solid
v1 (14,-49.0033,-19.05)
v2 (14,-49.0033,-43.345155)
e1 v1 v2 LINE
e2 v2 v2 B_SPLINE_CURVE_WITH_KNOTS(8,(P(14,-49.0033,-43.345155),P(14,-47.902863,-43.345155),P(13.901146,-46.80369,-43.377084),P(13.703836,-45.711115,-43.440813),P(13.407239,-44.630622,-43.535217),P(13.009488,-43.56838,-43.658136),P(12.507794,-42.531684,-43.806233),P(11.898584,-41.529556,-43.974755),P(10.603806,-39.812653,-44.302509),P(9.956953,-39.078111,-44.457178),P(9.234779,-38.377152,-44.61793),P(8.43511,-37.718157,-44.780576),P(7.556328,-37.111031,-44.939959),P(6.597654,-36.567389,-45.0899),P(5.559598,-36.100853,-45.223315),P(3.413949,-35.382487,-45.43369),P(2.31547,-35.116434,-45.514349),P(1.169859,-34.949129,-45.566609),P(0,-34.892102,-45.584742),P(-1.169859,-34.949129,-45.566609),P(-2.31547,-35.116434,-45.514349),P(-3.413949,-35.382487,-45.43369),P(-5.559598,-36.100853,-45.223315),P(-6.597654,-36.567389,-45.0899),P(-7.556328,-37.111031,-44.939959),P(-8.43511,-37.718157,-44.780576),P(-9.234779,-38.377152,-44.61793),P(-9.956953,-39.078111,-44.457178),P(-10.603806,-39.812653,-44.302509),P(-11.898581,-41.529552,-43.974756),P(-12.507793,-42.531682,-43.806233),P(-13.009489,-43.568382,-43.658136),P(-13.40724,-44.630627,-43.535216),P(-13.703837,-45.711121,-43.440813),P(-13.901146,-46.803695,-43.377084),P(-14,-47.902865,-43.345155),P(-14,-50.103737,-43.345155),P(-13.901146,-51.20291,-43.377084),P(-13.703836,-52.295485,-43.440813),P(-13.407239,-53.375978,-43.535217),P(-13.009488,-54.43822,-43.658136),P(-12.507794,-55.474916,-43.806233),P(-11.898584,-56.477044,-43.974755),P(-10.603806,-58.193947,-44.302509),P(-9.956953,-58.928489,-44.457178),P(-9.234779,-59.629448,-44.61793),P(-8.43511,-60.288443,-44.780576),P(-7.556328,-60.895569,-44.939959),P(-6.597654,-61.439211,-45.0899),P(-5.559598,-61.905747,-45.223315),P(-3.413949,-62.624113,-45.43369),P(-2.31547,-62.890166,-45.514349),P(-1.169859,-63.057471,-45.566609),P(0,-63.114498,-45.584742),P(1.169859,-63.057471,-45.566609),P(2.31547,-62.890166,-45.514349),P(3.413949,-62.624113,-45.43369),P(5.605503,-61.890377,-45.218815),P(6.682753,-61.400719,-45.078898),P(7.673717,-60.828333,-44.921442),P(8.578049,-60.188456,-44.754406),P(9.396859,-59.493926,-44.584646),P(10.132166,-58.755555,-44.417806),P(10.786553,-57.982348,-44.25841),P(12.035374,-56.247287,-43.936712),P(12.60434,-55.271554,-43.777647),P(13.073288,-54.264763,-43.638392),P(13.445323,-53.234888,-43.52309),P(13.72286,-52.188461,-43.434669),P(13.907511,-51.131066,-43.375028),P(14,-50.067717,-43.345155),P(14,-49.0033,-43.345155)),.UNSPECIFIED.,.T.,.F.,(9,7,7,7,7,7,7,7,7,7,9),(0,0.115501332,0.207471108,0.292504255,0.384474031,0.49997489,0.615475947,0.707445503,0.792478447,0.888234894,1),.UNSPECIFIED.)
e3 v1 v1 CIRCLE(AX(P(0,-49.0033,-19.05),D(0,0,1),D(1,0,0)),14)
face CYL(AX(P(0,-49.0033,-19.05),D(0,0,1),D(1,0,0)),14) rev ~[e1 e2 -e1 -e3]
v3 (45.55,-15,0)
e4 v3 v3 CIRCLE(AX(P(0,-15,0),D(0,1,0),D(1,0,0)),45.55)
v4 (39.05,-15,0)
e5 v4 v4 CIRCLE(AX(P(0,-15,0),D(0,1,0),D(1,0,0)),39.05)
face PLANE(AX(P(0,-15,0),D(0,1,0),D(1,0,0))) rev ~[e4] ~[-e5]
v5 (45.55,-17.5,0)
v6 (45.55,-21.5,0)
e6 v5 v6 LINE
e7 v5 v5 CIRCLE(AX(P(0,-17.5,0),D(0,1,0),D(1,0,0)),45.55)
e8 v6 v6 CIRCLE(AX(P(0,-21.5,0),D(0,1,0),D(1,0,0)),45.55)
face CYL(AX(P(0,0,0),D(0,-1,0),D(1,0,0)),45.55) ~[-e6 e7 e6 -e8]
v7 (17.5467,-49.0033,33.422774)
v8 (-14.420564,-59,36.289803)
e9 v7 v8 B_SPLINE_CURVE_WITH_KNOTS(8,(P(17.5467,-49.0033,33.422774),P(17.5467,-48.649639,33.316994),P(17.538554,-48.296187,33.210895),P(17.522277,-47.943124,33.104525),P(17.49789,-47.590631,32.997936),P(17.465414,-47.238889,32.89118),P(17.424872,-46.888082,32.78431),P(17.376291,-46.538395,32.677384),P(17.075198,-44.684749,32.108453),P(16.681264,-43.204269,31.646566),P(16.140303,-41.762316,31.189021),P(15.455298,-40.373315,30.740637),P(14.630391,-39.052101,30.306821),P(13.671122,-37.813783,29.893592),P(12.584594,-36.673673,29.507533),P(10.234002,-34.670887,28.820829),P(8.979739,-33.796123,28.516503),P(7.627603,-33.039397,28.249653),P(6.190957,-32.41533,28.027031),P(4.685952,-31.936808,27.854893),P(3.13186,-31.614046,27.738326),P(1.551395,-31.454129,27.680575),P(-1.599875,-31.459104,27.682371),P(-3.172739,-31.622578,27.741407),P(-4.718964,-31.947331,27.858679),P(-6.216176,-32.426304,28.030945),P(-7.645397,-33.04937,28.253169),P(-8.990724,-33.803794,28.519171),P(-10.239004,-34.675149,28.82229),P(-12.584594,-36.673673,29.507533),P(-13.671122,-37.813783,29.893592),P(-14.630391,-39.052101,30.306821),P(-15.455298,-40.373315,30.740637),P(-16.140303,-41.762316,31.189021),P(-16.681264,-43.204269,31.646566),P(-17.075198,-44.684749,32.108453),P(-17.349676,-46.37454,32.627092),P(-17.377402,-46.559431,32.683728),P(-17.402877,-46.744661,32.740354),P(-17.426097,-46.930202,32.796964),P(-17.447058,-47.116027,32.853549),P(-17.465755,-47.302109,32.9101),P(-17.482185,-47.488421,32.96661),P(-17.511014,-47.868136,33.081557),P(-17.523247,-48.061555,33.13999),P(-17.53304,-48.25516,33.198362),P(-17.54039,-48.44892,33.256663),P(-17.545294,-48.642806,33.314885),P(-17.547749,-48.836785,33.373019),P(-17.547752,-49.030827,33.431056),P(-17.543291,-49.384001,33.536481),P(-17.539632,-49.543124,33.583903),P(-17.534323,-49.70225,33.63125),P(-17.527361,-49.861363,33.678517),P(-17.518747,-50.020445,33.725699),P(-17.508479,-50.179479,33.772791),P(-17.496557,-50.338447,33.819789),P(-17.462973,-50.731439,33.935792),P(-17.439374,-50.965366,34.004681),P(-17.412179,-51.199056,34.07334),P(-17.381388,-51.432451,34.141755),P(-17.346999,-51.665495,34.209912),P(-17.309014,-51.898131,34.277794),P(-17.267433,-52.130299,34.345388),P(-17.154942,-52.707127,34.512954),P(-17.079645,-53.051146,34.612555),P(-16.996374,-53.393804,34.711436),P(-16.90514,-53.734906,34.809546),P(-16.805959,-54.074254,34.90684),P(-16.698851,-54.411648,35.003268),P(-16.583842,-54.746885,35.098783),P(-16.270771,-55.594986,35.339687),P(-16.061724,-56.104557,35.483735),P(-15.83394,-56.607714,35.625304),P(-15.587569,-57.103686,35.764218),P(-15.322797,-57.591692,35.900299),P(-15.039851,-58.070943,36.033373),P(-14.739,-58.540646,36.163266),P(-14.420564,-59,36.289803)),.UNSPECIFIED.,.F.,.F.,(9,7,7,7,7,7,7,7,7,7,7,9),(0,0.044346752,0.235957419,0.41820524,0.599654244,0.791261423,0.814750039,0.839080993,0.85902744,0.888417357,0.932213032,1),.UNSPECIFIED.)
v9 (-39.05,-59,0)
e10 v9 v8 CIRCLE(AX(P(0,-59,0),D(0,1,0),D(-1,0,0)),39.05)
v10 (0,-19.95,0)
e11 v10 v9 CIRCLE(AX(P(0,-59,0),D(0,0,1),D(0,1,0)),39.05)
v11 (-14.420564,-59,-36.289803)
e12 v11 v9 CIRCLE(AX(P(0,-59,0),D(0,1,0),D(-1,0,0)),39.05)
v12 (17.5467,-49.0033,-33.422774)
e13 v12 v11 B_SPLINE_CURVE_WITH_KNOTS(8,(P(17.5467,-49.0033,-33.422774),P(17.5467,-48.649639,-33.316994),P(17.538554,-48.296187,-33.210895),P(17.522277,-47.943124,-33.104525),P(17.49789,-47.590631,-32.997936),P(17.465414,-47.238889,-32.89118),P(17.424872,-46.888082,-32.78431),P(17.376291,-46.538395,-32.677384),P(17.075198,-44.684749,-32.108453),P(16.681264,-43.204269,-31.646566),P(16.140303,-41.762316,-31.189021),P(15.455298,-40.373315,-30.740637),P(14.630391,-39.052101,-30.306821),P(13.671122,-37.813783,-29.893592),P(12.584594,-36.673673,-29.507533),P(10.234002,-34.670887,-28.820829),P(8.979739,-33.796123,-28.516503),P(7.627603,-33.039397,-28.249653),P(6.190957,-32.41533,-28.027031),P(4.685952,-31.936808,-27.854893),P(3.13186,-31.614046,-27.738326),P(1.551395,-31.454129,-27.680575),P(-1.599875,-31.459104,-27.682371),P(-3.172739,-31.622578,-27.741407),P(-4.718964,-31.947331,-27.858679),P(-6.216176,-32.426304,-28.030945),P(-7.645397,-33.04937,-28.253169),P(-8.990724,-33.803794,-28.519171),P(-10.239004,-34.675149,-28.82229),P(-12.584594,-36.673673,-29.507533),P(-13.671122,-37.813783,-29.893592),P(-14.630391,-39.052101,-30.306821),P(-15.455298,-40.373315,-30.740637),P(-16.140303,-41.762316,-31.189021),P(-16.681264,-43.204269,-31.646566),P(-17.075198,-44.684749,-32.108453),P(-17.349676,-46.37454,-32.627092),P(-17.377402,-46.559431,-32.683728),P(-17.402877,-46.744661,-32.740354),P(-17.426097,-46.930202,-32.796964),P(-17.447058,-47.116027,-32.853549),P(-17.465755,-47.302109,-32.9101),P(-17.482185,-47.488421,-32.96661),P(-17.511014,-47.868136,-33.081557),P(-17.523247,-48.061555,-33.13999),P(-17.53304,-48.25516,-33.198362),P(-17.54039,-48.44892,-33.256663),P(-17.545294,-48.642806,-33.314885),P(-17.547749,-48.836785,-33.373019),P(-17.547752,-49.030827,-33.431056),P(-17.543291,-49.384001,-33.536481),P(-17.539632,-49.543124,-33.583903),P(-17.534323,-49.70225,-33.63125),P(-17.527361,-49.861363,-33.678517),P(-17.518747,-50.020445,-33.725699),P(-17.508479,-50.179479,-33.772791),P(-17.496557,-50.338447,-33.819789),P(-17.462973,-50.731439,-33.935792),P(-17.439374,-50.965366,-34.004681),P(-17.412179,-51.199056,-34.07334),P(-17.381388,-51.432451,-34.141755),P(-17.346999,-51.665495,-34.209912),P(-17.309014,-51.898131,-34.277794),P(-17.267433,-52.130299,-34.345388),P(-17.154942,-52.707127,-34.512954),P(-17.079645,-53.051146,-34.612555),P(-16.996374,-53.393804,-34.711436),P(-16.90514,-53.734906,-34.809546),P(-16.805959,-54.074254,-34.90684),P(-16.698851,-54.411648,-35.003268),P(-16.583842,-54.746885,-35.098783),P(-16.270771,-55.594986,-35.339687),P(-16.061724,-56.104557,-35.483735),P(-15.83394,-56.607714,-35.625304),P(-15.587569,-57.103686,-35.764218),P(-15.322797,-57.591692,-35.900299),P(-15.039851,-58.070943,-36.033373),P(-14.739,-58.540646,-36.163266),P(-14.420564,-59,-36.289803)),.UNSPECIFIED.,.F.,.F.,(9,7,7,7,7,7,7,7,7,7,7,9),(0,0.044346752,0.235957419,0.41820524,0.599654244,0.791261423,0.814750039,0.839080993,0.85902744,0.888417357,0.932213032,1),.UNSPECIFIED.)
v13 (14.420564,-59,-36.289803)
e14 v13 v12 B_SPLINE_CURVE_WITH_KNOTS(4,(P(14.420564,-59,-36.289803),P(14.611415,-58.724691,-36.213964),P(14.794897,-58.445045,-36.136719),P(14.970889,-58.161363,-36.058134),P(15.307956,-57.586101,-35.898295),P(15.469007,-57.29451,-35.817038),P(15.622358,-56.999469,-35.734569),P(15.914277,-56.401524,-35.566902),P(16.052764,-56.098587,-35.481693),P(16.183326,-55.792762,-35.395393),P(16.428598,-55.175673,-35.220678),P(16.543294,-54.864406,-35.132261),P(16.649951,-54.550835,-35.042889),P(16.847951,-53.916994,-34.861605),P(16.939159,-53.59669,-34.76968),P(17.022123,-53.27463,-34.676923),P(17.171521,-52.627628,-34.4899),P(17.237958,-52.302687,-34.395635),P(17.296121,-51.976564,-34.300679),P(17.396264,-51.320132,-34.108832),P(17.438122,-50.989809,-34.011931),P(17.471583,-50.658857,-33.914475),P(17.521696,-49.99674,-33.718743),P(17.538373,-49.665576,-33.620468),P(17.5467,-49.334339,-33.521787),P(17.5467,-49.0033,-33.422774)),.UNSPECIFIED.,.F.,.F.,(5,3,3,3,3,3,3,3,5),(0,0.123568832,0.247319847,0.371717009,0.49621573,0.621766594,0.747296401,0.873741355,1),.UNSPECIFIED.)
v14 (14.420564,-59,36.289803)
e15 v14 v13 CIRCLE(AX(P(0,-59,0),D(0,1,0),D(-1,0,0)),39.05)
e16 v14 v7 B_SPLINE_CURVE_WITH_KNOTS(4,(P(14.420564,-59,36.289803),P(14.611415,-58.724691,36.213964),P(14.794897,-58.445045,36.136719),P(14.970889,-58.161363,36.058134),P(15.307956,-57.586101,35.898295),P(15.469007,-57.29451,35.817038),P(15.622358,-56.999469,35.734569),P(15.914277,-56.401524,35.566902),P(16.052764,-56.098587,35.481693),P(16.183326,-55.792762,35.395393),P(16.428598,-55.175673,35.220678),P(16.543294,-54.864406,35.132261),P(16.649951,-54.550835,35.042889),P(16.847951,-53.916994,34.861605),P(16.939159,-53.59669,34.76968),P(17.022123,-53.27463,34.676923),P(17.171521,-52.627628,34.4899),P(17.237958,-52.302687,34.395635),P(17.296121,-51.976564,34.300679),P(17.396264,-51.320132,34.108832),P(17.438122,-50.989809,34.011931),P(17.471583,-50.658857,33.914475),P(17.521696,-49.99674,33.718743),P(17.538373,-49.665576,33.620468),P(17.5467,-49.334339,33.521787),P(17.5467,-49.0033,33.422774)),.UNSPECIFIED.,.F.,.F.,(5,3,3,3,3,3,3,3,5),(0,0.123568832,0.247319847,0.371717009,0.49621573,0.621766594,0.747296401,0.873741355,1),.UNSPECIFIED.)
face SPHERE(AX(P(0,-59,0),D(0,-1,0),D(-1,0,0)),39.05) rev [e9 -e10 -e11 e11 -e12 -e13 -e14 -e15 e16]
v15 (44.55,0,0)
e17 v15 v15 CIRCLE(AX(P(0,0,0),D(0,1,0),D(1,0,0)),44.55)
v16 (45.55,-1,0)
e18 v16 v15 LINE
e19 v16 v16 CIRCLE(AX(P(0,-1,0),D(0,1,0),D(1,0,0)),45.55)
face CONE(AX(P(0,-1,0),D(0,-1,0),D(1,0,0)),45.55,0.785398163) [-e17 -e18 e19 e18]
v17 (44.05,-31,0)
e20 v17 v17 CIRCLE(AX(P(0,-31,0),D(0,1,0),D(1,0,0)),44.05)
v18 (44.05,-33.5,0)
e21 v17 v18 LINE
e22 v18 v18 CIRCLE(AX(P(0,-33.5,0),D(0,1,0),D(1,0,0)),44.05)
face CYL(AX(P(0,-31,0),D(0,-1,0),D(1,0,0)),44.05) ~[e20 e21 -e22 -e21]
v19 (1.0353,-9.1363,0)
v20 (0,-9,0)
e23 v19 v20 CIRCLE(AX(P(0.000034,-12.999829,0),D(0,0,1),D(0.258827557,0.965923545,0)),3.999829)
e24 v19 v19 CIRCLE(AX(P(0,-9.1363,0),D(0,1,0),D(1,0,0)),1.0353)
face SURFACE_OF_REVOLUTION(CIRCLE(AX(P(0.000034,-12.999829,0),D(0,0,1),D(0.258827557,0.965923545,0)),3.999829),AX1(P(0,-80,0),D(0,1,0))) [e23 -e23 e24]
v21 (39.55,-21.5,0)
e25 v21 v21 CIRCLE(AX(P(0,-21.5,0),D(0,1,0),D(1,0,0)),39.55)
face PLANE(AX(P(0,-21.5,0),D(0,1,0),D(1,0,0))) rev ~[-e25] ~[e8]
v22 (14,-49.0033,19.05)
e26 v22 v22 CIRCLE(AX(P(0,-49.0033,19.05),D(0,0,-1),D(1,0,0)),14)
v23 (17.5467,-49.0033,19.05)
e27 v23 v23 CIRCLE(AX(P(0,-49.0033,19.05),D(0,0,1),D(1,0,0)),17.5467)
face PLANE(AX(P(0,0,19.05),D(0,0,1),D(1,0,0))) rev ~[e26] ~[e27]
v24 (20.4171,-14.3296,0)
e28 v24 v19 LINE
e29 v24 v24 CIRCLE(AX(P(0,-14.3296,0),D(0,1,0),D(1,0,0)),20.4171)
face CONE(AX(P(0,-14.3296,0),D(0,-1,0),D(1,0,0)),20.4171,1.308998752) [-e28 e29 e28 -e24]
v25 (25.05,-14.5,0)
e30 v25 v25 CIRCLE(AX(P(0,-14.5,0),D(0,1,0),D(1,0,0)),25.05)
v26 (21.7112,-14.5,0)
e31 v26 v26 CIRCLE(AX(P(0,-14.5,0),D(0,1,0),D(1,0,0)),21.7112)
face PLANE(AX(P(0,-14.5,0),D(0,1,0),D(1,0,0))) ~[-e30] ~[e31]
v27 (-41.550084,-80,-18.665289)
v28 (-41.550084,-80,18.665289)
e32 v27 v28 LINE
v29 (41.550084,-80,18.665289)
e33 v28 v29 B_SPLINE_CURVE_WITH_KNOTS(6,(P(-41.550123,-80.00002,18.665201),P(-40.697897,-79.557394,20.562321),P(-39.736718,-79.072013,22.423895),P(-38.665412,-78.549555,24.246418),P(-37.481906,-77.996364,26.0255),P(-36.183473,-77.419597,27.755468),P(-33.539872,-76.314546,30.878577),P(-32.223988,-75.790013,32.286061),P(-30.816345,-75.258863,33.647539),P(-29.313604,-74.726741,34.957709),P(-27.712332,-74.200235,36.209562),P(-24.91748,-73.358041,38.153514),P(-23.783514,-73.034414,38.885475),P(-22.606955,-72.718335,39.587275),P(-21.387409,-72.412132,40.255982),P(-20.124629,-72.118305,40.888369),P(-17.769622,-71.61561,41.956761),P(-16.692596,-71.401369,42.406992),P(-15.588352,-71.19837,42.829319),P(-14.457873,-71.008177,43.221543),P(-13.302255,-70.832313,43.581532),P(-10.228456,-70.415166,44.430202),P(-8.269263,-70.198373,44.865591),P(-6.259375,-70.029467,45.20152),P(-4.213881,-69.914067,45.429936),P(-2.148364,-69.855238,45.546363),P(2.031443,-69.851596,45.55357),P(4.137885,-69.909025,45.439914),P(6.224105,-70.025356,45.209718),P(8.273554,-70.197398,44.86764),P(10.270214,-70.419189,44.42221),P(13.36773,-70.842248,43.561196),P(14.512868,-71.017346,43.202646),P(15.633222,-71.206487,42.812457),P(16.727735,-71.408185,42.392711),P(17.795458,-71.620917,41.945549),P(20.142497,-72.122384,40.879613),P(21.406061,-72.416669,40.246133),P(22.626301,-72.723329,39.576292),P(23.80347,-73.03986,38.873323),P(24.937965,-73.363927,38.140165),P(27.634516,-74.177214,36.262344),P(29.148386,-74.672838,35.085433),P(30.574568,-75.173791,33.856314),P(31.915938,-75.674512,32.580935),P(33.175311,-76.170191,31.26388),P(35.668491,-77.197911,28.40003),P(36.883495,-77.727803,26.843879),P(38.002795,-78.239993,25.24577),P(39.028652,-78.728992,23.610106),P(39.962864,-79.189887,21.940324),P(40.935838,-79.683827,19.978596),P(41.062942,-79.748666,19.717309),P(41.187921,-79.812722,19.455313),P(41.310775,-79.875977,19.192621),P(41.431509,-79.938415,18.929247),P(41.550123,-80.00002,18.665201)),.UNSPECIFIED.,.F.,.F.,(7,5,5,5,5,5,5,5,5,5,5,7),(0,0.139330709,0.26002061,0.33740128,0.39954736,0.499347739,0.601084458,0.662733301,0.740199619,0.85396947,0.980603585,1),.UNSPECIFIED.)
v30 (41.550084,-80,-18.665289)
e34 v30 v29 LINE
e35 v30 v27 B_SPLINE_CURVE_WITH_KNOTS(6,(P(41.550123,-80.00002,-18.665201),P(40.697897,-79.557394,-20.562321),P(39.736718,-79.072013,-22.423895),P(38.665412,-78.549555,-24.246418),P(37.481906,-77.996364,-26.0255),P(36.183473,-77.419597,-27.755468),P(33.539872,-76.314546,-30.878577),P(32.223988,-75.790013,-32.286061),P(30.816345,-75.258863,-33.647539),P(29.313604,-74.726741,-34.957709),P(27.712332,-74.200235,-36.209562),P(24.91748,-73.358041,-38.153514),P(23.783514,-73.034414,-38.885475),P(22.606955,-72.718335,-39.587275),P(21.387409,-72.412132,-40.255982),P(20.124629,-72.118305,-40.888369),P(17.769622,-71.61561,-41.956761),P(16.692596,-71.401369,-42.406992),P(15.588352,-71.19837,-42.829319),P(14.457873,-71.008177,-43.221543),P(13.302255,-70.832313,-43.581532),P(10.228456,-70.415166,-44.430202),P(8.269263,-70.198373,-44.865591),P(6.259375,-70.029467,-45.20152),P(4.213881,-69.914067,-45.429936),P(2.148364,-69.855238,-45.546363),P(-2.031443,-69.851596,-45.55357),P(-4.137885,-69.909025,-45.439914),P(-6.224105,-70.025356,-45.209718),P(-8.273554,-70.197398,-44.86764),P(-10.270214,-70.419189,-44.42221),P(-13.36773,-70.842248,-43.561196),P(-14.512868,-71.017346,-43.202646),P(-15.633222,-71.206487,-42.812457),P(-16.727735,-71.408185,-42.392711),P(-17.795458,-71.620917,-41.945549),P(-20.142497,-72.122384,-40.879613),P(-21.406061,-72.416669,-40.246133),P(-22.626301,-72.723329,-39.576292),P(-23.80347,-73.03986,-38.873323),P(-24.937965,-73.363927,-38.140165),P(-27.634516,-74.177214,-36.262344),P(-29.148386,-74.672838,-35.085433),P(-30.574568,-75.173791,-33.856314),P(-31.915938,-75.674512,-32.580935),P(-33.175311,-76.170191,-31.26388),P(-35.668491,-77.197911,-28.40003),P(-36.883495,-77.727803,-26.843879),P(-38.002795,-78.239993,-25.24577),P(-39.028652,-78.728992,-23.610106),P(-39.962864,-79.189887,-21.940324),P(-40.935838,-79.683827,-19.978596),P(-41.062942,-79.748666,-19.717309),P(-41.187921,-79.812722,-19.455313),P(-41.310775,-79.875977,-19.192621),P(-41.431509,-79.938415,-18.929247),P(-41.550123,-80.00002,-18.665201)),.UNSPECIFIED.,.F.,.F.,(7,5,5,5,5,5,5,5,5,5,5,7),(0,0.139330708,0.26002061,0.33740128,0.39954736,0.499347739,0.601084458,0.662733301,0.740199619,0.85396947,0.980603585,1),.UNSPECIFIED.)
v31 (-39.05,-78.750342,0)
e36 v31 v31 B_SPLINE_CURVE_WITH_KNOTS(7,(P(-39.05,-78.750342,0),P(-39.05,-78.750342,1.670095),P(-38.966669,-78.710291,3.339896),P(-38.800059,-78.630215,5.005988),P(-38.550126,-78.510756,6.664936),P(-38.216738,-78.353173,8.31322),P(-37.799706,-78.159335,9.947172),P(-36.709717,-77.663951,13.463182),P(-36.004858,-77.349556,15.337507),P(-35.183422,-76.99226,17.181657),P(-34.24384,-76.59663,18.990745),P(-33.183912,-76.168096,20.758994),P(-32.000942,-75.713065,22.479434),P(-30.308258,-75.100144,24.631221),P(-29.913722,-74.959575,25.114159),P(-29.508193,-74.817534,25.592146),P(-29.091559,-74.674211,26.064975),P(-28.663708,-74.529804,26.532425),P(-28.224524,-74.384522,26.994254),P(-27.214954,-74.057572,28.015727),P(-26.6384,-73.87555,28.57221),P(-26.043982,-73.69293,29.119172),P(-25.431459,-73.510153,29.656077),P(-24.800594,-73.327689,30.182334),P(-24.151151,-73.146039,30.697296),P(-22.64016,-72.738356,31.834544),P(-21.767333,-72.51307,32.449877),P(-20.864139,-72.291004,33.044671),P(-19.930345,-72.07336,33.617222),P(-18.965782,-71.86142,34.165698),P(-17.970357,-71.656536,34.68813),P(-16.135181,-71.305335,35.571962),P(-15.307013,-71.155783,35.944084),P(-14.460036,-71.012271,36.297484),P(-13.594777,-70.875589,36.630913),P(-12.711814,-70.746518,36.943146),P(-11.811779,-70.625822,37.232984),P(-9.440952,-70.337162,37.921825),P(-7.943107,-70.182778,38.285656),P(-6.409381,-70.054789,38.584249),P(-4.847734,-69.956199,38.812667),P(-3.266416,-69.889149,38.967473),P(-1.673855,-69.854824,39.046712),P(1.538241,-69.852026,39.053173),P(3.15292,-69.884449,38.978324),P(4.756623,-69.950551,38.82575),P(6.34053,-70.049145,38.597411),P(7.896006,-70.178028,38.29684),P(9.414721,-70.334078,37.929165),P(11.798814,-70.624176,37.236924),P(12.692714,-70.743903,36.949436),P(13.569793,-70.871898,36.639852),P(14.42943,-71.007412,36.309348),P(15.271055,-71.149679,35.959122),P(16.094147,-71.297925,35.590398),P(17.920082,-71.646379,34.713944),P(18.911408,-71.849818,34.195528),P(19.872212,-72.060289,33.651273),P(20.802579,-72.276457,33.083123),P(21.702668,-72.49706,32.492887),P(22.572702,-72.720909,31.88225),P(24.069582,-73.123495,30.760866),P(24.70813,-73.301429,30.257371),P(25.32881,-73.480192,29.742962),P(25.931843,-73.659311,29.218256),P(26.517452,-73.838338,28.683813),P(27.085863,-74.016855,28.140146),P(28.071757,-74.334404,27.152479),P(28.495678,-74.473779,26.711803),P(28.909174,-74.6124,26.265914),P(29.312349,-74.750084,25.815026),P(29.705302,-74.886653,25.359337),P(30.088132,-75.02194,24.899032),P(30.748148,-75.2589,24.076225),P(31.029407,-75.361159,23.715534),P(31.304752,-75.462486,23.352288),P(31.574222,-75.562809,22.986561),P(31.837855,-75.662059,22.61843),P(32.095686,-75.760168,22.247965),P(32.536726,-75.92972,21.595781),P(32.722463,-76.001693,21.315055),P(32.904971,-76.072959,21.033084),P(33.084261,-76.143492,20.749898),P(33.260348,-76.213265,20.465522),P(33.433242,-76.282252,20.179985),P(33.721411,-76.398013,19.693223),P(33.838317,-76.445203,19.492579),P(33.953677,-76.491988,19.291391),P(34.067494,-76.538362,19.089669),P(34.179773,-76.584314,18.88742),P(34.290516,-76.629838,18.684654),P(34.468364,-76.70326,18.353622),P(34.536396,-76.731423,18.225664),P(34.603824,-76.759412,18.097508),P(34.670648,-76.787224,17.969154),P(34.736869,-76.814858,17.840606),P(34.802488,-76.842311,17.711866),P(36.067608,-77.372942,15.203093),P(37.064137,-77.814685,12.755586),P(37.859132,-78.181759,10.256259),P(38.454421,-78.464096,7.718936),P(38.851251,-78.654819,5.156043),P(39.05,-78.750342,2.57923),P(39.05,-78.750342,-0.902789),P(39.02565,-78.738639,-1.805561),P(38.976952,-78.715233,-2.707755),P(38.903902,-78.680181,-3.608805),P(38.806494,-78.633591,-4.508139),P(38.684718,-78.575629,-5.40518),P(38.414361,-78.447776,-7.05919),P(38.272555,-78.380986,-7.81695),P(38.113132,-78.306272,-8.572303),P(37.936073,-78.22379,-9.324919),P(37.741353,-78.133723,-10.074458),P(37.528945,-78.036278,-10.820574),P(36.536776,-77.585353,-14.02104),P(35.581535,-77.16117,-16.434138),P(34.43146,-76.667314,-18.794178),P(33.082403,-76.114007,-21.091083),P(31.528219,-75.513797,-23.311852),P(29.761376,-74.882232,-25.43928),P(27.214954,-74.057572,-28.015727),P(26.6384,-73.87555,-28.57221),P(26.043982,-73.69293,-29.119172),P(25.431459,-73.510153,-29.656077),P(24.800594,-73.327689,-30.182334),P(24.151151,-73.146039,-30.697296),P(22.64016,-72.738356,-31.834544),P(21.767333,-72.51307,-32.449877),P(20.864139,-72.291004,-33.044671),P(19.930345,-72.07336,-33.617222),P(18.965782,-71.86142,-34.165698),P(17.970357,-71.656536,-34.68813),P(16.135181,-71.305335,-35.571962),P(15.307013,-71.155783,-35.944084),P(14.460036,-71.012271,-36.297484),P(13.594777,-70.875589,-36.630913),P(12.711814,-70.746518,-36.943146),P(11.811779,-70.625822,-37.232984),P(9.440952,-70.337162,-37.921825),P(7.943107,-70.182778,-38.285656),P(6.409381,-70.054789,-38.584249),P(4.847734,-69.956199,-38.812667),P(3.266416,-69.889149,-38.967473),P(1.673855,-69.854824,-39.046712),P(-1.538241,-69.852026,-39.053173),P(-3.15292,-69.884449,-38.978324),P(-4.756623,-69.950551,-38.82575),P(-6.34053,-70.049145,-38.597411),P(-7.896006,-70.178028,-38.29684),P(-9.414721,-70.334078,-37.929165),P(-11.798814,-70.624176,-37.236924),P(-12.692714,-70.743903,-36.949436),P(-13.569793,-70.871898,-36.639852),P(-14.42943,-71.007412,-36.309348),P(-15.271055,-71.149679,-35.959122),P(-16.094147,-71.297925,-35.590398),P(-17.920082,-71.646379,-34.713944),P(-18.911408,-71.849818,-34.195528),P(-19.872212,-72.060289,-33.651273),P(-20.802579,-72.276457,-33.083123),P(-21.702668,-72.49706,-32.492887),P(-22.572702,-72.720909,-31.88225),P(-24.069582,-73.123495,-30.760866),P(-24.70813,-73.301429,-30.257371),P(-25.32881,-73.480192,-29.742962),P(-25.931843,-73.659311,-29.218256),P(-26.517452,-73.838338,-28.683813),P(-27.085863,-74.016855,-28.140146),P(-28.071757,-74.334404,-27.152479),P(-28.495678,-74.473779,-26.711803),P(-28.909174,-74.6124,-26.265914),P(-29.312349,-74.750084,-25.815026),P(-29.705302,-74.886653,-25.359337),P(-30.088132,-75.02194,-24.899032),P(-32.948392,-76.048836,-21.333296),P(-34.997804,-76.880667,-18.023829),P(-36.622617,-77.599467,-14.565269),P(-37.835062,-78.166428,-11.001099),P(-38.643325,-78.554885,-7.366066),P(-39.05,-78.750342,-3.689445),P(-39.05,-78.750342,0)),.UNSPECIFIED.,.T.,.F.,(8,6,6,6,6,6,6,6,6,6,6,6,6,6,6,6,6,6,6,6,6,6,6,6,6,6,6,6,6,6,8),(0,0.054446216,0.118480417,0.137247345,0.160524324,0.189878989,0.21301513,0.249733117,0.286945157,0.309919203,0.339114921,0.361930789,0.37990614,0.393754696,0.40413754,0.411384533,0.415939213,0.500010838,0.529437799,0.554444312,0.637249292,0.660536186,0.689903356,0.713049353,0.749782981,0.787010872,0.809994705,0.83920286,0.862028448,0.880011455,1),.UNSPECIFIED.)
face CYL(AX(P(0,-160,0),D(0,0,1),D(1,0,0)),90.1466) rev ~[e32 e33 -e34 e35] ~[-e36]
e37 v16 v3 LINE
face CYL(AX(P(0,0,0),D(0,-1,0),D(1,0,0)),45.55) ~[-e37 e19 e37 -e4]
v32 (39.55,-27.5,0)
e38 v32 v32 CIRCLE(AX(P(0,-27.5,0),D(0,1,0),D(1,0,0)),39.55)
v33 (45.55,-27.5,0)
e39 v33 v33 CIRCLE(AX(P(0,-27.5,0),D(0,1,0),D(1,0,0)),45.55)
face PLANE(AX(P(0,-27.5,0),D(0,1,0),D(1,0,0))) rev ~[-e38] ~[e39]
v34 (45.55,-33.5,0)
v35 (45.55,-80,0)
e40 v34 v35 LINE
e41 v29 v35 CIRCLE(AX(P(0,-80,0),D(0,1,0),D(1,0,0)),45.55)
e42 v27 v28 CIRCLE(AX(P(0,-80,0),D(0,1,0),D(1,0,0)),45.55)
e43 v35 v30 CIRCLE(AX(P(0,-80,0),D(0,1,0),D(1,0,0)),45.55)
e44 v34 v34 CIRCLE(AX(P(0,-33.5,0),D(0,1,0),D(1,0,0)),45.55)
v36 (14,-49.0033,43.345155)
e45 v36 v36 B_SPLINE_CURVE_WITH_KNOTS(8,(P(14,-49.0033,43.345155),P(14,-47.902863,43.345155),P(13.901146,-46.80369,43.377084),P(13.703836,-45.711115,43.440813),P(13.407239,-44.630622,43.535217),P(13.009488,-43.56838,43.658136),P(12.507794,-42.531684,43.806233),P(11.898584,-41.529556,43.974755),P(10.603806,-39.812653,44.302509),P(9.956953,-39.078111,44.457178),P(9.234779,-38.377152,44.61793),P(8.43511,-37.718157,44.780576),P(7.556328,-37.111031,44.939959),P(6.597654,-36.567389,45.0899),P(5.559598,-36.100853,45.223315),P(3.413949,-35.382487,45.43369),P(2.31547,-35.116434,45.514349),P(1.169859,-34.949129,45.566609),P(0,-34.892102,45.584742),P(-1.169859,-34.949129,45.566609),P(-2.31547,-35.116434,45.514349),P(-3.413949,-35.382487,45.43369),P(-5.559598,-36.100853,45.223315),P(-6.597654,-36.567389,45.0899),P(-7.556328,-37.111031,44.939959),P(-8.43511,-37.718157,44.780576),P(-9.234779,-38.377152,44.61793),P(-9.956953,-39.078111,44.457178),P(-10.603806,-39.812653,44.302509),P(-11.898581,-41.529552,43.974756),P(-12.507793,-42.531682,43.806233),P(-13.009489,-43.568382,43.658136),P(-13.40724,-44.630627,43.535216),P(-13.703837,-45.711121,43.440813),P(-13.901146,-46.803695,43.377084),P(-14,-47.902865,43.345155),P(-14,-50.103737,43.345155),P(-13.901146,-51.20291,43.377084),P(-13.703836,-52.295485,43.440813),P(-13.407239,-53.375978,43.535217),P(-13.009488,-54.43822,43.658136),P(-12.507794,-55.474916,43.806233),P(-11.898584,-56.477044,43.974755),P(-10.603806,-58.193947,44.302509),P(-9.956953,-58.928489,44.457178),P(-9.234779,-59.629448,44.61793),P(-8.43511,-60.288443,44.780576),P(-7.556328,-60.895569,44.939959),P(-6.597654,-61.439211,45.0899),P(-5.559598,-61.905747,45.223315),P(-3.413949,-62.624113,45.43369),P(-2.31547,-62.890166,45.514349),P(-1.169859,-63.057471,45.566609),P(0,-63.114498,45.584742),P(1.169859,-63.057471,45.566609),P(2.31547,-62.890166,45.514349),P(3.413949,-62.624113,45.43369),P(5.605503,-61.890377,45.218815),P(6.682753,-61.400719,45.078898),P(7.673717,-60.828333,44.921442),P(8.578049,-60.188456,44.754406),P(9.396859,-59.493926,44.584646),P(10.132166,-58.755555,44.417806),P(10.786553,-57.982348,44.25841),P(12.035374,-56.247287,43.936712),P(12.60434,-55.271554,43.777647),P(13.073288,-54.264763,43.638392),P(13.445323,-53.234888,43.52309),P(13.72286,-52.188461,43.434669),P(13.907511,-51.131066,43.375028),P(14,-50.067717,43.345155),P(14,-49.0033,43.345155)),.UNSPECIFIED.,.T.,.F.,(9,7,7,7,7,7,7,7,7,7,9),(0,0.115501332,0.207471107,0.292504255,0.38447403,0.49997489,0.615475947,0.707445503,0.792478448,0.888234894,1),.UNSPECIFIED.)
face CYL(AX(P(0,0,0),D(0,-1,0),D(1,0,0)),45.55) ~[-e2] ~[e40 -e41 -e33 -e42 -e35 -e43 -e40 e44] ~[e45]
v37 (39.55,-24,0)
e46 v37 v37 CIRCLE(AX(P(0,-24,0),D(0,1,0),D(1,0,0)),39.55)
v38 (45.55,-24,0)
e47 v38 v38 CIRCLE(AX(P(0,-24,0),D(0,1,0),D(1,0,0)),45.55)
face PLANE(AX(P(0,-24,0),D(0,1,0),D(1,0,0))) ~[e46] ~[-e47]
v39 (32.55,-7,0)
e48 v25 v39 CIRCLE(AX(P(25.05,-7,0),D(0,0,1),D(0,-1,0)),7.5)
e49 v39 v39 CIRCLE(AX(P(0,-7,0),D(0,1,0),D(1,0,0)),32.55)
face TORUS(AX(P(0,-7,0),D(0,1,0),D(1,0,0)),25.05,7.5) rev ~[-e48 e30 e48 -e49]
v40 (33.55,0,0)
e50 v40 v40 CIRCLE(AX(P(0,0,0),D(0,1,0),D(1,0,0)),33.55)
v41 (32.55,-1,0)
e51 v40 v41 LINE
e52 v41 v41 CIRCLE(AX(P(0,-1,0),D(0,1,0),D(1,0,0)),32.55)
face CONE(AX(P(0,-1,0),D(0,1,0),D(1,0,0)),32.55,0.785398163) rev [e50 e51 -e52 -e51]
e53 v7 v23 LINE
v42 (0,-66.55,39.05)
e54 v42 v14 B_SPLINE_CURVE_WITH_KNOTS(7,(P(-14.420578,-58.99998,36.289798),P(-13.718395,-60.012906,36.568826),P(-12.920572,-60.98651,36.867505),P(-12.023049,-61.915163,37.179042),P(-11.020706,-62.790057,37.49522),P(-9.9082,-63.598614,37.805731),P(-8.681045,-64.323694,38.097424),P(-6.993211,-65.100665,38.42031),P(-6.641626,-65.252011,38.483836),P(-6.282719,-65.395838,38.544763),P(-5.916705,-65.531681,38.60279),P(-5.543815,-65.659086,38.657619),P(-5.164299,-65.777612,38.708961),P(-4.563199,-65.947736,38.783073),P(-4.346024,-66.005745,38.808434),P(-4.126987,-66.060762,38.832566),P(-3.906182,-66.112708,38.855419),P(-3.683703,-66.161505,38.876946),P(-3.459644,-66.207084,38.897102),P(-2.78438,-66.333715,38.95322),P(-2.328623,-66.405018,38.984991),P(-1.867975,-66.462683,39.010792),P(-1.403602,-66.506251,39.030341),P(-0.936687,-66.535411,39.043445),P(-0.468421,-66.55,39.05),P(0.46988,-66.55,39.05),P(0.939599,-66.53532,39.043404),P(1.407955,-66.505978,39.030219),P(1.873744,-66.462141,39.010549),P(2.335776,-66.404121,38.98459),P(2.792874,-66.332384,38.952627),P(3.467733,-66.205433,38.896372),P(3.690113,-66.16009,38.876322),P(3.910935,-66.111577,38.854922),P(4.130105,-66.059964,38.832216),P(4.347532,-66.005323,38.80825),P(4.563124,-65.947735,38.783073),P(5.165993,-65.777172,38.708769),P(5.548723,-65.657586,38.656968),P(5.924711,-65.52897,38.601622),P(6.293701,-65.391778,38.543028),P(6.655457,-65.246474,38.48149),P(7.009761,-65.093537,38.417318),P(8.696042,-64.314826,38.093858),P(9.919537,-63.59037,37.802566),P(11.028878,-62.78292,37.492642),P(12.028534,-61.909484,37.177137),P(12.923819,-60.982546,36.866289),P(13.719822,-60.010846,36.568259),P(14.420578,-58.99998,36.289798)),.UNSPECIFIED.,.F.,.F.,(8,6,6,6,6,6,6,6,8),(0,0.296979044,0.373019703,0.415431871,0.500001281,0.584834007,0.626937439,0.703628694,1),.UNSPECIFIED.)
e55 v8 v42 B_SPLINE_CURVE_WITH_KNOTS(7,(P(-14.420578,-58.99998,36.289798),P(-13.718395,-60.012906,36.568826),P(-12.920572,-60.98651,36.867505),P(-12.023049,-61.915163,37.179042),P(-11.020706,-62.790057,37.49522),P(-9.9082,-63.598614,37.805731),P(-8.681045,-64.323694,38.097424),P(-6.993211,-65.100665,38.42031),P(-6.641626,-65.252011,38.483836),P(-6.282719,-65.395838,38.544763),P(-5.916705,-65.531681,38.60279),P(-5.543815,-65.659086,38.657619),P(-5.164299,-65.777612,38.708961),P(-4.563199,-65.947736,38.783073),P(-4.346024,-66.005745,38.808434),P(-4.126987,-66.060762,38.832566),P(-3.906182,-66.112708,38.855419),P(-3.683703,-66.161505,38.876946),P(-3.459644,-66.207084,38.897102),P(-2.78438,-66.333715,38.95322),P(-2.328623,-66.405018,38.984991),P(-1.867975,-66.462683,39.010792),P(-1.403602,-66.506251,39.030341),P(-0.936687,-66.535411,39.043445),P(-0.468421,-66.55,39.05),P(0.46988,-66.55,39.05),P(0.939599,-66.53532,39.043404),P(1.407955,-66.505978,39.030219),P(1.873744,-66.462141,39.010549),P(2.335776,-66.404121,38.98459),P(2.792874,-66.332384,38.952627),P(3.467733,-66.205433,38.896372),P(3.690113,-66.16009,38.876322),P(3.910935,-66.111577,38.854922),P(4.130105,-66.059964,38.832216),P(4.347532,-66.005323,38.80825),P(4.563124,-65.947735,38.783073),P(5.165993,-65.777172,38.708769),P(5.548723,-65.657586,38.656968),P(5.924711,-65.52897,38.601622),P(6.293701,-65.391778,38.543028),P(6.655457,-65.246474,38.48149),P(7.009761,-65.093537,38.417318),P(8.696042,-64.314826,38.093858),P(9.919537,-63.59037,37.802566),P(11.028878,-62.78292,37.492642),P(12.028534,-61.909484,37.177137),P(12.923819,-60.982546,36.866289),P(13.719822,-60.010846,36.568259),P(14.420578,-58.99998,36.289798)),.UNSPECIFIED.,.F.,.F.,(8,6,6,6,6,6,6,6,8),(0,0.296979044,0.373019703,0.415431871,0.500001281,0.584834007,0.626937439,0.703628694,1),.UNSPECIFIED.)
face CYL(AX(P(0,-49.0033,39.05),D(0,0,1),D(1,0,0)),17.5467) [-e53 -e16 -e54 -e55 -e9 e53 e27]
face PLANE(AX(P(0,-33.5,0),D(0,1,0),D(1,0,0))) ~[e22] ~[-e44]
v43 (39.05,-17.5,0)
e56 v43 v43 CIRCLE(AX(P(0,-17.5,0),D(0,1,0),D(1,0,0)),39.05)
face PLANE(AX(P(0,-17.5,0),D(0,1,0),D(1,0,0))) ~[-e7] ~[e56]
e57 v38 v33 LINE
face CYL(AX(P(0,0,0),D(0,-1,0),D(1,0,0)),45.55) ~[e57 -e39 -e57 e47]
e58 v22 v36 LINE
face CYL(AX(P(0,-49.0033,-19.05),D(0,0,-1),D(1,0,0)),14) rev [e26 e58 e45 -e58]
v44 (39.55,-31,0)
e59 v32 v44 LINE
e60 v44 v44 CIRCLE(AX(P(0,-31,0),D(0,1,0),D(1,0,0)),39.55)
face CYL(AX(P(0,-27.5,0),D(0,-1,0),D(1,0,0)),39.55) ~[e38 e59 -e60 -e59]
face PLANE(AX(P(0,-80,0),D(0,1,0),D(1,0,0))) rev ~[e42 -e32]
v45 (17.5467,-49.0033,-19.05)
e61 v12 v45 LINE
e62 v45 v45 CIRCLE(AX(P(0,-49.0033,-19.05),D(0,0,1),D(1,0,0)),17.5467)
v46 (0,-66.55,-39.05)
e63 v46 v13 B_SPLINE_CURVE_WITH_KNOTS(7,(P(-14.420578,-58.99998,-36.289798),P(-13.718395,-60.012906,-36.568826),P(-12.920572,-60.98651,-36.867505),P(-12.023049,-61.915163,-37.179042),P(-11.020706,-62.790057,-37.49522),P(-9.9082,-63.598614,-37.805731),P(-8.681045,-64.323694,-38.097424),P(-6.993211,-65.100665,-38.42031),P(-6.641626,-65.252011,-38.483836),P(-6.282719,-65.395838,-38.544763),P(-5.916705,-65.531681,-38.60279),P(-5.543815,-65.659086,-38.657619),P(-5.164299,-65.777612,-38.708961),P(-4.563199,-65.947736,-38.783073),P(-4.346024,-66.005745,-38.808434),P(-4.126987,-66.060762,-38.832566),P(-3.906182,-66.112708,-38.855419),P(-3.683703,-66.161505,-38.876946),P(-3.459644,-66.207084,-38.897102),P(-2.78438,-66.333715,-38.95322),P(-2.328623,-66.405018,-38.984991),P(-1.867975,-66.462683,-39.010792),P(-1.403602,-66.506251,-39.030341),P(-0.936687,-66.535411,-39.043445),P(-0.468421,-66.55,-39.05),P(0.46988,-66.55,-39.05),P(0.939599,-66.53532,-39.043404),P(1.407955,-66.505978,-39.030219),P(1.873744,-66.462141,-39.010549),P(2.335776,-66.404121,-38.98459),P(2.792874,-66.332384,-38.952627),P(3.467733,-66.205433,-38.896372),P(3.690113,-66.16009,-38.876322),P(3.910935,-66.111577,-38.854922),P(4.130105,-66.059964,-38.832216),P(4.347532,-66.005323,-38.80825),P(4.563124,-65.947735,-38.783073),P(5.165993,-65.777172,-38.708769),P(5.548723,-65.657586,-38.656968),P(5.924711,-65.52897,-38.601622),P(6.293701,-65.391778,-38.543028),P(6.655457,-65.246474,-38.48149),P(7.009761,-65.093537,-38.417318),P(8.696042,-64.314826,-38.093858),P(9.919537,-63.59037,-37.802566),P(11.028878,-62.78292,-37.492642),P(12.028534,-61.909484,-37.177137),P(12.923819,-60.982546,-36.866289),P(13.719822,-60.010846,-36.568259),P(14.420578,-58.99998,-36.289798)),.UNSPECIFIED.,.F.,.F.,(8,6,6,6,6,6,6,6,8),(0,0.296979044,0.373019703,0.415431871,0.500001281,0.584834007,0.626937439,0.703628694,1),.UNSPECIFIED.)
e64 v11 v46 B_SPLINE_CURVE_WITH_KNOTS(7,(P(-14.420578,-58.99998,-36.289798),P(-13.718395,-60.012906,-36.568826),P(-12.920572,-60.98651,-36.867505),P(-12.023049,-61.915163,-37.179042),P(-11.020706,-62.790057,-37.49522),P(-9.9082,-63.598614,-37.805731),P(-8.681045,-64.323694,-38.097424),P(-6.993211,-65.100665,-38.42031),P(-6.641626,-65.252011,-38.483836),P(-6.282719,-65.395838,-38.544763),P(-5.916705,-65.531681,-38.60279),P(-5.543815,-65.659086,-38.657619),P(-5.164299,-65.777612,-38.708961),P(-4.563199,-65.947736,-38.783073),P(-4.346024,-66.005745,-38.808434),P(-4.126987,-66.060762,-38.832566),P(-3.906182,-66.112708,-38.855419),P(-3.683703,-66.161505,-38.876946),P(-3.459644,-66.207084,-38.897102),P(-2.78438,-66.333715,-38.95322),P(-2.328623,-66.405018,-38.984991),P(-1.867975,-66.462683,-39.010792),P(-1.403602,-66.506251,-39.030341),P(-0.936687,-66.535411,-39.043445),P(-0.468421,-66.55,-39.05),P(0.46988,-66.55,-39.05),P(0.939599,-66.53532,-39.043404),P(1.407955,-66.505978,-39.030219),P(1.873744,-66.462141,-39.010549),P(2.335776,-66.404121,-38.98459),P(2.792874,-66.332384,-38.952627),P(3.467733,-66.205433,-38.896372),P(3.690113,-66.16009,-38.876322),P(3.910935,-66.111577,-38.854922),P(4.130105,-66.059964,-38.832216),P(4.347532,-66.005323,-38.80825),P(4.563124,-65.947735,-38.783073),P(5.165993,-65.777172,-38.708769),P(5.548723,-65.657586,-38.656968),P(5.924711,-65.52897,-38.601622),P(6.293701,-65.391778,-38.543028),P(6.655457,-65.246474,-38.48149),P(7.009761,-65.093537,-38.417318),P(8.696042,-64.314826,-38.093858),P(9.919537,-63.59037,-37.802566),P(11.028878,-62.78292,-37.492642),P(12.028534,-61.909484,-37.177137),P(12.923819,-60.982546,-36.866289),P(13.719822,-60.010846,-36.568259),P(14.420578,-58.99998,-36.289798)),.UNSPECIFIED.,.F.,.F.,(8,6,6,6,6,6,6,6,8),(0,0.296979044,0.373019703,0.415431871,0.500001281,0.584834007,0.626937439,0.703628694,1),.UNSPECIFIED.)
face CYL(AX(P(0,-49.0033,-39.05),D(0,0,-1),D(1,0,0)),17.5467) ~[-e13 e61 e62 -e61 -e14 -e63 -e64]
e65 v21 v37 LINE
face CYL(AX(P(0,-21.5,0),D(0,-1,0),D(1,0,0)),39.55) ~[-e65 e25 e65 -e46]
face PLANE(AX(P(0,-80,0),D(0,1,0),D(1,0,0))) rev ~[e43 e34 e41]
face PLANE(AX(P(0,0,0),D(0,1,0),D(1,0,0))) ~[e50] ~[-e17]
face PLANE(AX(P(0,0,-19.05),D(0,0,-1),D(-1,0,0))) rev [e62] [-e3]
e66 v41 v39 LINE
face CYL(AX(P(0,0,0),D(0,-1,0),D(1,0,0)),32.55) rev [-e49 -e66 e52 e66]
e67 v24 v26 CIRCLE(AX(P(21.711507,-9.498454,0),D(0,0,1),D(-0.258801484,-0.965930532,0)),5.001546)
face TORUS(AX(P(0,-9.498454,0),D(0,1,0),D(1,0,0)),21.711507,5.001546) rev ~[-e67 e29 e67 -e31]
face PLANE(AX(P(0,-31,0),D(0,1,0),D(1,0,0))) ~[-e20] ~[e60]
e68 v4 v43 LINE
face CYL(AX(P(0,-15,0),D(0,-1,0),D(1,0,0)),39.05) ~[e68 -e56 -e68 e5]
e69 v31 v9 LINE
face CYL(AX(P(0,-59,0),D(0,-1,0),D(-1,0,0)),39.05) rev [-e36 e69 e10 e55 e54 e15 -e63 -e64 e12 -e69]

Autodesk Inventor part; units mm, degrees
ref_plane "YZ Plane" through (0, 0, 0) normal (1, 0, 0) x (0, 1, 0)
ref_plane "XZ Plane" through (0, 0, 0) normal (0, 1, 0) x (-1, 0, 0)
sketch "Эскиз1" plane through (0, 0, 0) normal (0, 0, 1) x (1, 0, 0)
  line L0 (32.55, 0) -> (45.55, 0)
  line L1 (45.55, 0) -> (45.55, -80)
  line L2 (45.55, -80) -> (0, -80)
  line L3 (0, -80) -> (0, -9)
  line L4 (45.55, 0) -> (32.55, 0)
  line L5 (32.55, 0) -> (32.55, -7)
  arc A0 (25.05, -14.5) -> (32.55, -7) centre (25.05, -7) ccw
  line L6 (25.05, -7) -> (25.05, -14.5) construction
  line L7 (25.05, -7) -> (32.55, -7) construction
  line L8 (0, -9) -> (22.6563, -9) construction
  line L9 (21.7112, -14.5) -> (25.05, -14.5)
  arc A1 (20.4171, -14.3296) -> (21.7112, -14.5) centre (21.7112, -9.5) ccw
  line L10 (45.55, -15) -> (39.05, -15)
  line L11 (39.05, -15) -> (39.05, -17.5)
  line L12 (39.05, -17.5) -> (45.55, -17.5)
  line L13 (45.55, -21.5) -> (39.55, -21.5)
  line L14 (39.55, -21.5) -> (39.55, -24)
  line L15 (39.55, -24) -> (45.55, -24)
  line L16 (45.55, -27.5) -> (39.55, -27.5)
  line L17 (39.55, -27.5) -> (39.55, -31)
  line L18 (39.55, -31) -> (44.05, -31)
  line L19 (44.05, -31) -> (44.05, -33.5)
  line L20 (44.05, -33.5) -> (45.55, -33.5)
  line L21 (20.4171, -14.3296) -> (1.0353, -9.1363)
  arc A2 (1.0353, -9.1363) -> (0, -9) centre (0, -13) ccw
  line L22 (35.0546, -24) -> (35.0546, -19)
  line L23 (28.9454, -19) -> (28.9454, -24)
  arc A3 (35.0546, -19) -> (28.9454, -19) centre (32, -19) ccw
  line L24 (28.9454, -21.5) -> (35.0546, -21.5)
  arc A4 (28.9454, -24) -> (35.0546, -24) centre (32, -24) ccw
  point P0 (0, 0)
  point P1 (0.5266, -9)
  dimension "d0" = 80
  dimension "d1" = 45.55
  dimension "d2" = 13
  dimension "d3" = 7
  dimension "d5" = 7.5
  dimension "d7" = 9
  dimension "d8" = 5
  dimension "d9" = 180
  dimension "d10" = 2.5
  dimension "d11" = 6.5
  dimension "d12" = 2.5
  dimension "d13" = 3.5
  dimension "d14" = 4
  dimension "d15" = 15
  dimension "d17" = 2.5
  dimension "d18" = 1.5
  dimension "d20" = 6
  dimension "d21" = 6
  dimension "d22" = 3.5
  dimension "d34" = 4
  dimension "d36" = 15
  dimension "d38" = 5
revolve "Вращение1" add sketch "Эскиз1" angle 360 about axis through (0, -80, 0) along (0, 1, 0) contours L0 L1 L10 L11 L12 L13 L14 L15 L16 L17 L18 L19 L20 L2 L3 A2 L21 A1 L9 A0 L5 | A4 L23 L24 L22 | L24 L23 A3 L22
sketch "Эскиз2" plane through (0, 0, 0) normal (0, 0, 1) x (1, 0, 0)
  line L0 (-39.05, -15) -> (39.05, -15) projected
  line L1 (-39.55, -27.5) -> (39.55, -27.5) projected
  line L2 (0, -59) -> (-39.05, -59) construction
  line L3 (0, -59) -> (0, -27.5) construction
  line L4 (-39.05, -59) -> (-39.05, -88.4804)
  line L5 (-45.55, -80) -> (45.55, -80) projected
  line L6 (-39.05, -88.4804) -> (0, -88.4804)
  line L7 (0, -88.4804) -> (0, -27.5)
  line L8 (0, -27.5) -> (0, -19.95)
  line L9 (-39.55, -24) -> (39.55, -24) projected
  arc A0 (0, -19.95) -> (-39.05, -59) centre (0, -59) ccw
  point P0 (0, 0)
  dimension "d23" = 90
revolve "Вращение2" cut sketch "Эскиз2" angle 360 about axis through (0, -59, 0) along (0, 1, 0)
sketch "Эскиз3" plane through (0, 0, 0) normal (0, 0, 1) x (1, 0, 0)
  circle A0 centre (0, -160) radius 90.1466
  line L0 (-45.55, -80) -> (45.55, -80) projected
  line L1 (-41.55, -80) -> (41.55, -80)
  point P0 (0, 0)
  dimension "d25" = 4
  dimension "d39" = 80
extrude "Выдавливание1" cut sketch "Эскиз3" along normal through all both and the other way through all
ref_plane "РабПлоскость1" through (0, 0, 39.05) normal (0, 0, 1) x (1, 0, 0)
sketch "Эскиз4" plane through (0, 0, 39.05) normal (0, 0, 1) x (1, 0, 0)
  circle A0 centre (0, -49.0033) radius 17.5467
  point P0 (0, 0)
extrude "Выдавливание2" add sketch "Эскиз4" against normal blind 20
mirror "Зеркальное отражение1" about plane through (0, 0, 0) normal (0, 0, 1) of "Выдавливание2"
sketch "Эскиз5" plane through (0, -49.0033, -19.05) normal (0, 0, 1) x (1, 0, 0)
  arc A0 (17.5467, 0) -> (17.5467, 0) centre (0, 0) ccw projected
  circle A1 centre (0, 0) radius 14
  point P0 (0, 49.0033)
  dimension "d31" = 28
extrude "Выдавливание3" cut sketch "Эскиз5" along normal through all both and the other way through all contours A1
chamfer "Фаска1" distance 1 angle 45 2 edges at (-32.55, 0, 0) (-45.55, 0, 0)
properties part number "piston" material "Сталь, высокопрочная, низколегированная"
